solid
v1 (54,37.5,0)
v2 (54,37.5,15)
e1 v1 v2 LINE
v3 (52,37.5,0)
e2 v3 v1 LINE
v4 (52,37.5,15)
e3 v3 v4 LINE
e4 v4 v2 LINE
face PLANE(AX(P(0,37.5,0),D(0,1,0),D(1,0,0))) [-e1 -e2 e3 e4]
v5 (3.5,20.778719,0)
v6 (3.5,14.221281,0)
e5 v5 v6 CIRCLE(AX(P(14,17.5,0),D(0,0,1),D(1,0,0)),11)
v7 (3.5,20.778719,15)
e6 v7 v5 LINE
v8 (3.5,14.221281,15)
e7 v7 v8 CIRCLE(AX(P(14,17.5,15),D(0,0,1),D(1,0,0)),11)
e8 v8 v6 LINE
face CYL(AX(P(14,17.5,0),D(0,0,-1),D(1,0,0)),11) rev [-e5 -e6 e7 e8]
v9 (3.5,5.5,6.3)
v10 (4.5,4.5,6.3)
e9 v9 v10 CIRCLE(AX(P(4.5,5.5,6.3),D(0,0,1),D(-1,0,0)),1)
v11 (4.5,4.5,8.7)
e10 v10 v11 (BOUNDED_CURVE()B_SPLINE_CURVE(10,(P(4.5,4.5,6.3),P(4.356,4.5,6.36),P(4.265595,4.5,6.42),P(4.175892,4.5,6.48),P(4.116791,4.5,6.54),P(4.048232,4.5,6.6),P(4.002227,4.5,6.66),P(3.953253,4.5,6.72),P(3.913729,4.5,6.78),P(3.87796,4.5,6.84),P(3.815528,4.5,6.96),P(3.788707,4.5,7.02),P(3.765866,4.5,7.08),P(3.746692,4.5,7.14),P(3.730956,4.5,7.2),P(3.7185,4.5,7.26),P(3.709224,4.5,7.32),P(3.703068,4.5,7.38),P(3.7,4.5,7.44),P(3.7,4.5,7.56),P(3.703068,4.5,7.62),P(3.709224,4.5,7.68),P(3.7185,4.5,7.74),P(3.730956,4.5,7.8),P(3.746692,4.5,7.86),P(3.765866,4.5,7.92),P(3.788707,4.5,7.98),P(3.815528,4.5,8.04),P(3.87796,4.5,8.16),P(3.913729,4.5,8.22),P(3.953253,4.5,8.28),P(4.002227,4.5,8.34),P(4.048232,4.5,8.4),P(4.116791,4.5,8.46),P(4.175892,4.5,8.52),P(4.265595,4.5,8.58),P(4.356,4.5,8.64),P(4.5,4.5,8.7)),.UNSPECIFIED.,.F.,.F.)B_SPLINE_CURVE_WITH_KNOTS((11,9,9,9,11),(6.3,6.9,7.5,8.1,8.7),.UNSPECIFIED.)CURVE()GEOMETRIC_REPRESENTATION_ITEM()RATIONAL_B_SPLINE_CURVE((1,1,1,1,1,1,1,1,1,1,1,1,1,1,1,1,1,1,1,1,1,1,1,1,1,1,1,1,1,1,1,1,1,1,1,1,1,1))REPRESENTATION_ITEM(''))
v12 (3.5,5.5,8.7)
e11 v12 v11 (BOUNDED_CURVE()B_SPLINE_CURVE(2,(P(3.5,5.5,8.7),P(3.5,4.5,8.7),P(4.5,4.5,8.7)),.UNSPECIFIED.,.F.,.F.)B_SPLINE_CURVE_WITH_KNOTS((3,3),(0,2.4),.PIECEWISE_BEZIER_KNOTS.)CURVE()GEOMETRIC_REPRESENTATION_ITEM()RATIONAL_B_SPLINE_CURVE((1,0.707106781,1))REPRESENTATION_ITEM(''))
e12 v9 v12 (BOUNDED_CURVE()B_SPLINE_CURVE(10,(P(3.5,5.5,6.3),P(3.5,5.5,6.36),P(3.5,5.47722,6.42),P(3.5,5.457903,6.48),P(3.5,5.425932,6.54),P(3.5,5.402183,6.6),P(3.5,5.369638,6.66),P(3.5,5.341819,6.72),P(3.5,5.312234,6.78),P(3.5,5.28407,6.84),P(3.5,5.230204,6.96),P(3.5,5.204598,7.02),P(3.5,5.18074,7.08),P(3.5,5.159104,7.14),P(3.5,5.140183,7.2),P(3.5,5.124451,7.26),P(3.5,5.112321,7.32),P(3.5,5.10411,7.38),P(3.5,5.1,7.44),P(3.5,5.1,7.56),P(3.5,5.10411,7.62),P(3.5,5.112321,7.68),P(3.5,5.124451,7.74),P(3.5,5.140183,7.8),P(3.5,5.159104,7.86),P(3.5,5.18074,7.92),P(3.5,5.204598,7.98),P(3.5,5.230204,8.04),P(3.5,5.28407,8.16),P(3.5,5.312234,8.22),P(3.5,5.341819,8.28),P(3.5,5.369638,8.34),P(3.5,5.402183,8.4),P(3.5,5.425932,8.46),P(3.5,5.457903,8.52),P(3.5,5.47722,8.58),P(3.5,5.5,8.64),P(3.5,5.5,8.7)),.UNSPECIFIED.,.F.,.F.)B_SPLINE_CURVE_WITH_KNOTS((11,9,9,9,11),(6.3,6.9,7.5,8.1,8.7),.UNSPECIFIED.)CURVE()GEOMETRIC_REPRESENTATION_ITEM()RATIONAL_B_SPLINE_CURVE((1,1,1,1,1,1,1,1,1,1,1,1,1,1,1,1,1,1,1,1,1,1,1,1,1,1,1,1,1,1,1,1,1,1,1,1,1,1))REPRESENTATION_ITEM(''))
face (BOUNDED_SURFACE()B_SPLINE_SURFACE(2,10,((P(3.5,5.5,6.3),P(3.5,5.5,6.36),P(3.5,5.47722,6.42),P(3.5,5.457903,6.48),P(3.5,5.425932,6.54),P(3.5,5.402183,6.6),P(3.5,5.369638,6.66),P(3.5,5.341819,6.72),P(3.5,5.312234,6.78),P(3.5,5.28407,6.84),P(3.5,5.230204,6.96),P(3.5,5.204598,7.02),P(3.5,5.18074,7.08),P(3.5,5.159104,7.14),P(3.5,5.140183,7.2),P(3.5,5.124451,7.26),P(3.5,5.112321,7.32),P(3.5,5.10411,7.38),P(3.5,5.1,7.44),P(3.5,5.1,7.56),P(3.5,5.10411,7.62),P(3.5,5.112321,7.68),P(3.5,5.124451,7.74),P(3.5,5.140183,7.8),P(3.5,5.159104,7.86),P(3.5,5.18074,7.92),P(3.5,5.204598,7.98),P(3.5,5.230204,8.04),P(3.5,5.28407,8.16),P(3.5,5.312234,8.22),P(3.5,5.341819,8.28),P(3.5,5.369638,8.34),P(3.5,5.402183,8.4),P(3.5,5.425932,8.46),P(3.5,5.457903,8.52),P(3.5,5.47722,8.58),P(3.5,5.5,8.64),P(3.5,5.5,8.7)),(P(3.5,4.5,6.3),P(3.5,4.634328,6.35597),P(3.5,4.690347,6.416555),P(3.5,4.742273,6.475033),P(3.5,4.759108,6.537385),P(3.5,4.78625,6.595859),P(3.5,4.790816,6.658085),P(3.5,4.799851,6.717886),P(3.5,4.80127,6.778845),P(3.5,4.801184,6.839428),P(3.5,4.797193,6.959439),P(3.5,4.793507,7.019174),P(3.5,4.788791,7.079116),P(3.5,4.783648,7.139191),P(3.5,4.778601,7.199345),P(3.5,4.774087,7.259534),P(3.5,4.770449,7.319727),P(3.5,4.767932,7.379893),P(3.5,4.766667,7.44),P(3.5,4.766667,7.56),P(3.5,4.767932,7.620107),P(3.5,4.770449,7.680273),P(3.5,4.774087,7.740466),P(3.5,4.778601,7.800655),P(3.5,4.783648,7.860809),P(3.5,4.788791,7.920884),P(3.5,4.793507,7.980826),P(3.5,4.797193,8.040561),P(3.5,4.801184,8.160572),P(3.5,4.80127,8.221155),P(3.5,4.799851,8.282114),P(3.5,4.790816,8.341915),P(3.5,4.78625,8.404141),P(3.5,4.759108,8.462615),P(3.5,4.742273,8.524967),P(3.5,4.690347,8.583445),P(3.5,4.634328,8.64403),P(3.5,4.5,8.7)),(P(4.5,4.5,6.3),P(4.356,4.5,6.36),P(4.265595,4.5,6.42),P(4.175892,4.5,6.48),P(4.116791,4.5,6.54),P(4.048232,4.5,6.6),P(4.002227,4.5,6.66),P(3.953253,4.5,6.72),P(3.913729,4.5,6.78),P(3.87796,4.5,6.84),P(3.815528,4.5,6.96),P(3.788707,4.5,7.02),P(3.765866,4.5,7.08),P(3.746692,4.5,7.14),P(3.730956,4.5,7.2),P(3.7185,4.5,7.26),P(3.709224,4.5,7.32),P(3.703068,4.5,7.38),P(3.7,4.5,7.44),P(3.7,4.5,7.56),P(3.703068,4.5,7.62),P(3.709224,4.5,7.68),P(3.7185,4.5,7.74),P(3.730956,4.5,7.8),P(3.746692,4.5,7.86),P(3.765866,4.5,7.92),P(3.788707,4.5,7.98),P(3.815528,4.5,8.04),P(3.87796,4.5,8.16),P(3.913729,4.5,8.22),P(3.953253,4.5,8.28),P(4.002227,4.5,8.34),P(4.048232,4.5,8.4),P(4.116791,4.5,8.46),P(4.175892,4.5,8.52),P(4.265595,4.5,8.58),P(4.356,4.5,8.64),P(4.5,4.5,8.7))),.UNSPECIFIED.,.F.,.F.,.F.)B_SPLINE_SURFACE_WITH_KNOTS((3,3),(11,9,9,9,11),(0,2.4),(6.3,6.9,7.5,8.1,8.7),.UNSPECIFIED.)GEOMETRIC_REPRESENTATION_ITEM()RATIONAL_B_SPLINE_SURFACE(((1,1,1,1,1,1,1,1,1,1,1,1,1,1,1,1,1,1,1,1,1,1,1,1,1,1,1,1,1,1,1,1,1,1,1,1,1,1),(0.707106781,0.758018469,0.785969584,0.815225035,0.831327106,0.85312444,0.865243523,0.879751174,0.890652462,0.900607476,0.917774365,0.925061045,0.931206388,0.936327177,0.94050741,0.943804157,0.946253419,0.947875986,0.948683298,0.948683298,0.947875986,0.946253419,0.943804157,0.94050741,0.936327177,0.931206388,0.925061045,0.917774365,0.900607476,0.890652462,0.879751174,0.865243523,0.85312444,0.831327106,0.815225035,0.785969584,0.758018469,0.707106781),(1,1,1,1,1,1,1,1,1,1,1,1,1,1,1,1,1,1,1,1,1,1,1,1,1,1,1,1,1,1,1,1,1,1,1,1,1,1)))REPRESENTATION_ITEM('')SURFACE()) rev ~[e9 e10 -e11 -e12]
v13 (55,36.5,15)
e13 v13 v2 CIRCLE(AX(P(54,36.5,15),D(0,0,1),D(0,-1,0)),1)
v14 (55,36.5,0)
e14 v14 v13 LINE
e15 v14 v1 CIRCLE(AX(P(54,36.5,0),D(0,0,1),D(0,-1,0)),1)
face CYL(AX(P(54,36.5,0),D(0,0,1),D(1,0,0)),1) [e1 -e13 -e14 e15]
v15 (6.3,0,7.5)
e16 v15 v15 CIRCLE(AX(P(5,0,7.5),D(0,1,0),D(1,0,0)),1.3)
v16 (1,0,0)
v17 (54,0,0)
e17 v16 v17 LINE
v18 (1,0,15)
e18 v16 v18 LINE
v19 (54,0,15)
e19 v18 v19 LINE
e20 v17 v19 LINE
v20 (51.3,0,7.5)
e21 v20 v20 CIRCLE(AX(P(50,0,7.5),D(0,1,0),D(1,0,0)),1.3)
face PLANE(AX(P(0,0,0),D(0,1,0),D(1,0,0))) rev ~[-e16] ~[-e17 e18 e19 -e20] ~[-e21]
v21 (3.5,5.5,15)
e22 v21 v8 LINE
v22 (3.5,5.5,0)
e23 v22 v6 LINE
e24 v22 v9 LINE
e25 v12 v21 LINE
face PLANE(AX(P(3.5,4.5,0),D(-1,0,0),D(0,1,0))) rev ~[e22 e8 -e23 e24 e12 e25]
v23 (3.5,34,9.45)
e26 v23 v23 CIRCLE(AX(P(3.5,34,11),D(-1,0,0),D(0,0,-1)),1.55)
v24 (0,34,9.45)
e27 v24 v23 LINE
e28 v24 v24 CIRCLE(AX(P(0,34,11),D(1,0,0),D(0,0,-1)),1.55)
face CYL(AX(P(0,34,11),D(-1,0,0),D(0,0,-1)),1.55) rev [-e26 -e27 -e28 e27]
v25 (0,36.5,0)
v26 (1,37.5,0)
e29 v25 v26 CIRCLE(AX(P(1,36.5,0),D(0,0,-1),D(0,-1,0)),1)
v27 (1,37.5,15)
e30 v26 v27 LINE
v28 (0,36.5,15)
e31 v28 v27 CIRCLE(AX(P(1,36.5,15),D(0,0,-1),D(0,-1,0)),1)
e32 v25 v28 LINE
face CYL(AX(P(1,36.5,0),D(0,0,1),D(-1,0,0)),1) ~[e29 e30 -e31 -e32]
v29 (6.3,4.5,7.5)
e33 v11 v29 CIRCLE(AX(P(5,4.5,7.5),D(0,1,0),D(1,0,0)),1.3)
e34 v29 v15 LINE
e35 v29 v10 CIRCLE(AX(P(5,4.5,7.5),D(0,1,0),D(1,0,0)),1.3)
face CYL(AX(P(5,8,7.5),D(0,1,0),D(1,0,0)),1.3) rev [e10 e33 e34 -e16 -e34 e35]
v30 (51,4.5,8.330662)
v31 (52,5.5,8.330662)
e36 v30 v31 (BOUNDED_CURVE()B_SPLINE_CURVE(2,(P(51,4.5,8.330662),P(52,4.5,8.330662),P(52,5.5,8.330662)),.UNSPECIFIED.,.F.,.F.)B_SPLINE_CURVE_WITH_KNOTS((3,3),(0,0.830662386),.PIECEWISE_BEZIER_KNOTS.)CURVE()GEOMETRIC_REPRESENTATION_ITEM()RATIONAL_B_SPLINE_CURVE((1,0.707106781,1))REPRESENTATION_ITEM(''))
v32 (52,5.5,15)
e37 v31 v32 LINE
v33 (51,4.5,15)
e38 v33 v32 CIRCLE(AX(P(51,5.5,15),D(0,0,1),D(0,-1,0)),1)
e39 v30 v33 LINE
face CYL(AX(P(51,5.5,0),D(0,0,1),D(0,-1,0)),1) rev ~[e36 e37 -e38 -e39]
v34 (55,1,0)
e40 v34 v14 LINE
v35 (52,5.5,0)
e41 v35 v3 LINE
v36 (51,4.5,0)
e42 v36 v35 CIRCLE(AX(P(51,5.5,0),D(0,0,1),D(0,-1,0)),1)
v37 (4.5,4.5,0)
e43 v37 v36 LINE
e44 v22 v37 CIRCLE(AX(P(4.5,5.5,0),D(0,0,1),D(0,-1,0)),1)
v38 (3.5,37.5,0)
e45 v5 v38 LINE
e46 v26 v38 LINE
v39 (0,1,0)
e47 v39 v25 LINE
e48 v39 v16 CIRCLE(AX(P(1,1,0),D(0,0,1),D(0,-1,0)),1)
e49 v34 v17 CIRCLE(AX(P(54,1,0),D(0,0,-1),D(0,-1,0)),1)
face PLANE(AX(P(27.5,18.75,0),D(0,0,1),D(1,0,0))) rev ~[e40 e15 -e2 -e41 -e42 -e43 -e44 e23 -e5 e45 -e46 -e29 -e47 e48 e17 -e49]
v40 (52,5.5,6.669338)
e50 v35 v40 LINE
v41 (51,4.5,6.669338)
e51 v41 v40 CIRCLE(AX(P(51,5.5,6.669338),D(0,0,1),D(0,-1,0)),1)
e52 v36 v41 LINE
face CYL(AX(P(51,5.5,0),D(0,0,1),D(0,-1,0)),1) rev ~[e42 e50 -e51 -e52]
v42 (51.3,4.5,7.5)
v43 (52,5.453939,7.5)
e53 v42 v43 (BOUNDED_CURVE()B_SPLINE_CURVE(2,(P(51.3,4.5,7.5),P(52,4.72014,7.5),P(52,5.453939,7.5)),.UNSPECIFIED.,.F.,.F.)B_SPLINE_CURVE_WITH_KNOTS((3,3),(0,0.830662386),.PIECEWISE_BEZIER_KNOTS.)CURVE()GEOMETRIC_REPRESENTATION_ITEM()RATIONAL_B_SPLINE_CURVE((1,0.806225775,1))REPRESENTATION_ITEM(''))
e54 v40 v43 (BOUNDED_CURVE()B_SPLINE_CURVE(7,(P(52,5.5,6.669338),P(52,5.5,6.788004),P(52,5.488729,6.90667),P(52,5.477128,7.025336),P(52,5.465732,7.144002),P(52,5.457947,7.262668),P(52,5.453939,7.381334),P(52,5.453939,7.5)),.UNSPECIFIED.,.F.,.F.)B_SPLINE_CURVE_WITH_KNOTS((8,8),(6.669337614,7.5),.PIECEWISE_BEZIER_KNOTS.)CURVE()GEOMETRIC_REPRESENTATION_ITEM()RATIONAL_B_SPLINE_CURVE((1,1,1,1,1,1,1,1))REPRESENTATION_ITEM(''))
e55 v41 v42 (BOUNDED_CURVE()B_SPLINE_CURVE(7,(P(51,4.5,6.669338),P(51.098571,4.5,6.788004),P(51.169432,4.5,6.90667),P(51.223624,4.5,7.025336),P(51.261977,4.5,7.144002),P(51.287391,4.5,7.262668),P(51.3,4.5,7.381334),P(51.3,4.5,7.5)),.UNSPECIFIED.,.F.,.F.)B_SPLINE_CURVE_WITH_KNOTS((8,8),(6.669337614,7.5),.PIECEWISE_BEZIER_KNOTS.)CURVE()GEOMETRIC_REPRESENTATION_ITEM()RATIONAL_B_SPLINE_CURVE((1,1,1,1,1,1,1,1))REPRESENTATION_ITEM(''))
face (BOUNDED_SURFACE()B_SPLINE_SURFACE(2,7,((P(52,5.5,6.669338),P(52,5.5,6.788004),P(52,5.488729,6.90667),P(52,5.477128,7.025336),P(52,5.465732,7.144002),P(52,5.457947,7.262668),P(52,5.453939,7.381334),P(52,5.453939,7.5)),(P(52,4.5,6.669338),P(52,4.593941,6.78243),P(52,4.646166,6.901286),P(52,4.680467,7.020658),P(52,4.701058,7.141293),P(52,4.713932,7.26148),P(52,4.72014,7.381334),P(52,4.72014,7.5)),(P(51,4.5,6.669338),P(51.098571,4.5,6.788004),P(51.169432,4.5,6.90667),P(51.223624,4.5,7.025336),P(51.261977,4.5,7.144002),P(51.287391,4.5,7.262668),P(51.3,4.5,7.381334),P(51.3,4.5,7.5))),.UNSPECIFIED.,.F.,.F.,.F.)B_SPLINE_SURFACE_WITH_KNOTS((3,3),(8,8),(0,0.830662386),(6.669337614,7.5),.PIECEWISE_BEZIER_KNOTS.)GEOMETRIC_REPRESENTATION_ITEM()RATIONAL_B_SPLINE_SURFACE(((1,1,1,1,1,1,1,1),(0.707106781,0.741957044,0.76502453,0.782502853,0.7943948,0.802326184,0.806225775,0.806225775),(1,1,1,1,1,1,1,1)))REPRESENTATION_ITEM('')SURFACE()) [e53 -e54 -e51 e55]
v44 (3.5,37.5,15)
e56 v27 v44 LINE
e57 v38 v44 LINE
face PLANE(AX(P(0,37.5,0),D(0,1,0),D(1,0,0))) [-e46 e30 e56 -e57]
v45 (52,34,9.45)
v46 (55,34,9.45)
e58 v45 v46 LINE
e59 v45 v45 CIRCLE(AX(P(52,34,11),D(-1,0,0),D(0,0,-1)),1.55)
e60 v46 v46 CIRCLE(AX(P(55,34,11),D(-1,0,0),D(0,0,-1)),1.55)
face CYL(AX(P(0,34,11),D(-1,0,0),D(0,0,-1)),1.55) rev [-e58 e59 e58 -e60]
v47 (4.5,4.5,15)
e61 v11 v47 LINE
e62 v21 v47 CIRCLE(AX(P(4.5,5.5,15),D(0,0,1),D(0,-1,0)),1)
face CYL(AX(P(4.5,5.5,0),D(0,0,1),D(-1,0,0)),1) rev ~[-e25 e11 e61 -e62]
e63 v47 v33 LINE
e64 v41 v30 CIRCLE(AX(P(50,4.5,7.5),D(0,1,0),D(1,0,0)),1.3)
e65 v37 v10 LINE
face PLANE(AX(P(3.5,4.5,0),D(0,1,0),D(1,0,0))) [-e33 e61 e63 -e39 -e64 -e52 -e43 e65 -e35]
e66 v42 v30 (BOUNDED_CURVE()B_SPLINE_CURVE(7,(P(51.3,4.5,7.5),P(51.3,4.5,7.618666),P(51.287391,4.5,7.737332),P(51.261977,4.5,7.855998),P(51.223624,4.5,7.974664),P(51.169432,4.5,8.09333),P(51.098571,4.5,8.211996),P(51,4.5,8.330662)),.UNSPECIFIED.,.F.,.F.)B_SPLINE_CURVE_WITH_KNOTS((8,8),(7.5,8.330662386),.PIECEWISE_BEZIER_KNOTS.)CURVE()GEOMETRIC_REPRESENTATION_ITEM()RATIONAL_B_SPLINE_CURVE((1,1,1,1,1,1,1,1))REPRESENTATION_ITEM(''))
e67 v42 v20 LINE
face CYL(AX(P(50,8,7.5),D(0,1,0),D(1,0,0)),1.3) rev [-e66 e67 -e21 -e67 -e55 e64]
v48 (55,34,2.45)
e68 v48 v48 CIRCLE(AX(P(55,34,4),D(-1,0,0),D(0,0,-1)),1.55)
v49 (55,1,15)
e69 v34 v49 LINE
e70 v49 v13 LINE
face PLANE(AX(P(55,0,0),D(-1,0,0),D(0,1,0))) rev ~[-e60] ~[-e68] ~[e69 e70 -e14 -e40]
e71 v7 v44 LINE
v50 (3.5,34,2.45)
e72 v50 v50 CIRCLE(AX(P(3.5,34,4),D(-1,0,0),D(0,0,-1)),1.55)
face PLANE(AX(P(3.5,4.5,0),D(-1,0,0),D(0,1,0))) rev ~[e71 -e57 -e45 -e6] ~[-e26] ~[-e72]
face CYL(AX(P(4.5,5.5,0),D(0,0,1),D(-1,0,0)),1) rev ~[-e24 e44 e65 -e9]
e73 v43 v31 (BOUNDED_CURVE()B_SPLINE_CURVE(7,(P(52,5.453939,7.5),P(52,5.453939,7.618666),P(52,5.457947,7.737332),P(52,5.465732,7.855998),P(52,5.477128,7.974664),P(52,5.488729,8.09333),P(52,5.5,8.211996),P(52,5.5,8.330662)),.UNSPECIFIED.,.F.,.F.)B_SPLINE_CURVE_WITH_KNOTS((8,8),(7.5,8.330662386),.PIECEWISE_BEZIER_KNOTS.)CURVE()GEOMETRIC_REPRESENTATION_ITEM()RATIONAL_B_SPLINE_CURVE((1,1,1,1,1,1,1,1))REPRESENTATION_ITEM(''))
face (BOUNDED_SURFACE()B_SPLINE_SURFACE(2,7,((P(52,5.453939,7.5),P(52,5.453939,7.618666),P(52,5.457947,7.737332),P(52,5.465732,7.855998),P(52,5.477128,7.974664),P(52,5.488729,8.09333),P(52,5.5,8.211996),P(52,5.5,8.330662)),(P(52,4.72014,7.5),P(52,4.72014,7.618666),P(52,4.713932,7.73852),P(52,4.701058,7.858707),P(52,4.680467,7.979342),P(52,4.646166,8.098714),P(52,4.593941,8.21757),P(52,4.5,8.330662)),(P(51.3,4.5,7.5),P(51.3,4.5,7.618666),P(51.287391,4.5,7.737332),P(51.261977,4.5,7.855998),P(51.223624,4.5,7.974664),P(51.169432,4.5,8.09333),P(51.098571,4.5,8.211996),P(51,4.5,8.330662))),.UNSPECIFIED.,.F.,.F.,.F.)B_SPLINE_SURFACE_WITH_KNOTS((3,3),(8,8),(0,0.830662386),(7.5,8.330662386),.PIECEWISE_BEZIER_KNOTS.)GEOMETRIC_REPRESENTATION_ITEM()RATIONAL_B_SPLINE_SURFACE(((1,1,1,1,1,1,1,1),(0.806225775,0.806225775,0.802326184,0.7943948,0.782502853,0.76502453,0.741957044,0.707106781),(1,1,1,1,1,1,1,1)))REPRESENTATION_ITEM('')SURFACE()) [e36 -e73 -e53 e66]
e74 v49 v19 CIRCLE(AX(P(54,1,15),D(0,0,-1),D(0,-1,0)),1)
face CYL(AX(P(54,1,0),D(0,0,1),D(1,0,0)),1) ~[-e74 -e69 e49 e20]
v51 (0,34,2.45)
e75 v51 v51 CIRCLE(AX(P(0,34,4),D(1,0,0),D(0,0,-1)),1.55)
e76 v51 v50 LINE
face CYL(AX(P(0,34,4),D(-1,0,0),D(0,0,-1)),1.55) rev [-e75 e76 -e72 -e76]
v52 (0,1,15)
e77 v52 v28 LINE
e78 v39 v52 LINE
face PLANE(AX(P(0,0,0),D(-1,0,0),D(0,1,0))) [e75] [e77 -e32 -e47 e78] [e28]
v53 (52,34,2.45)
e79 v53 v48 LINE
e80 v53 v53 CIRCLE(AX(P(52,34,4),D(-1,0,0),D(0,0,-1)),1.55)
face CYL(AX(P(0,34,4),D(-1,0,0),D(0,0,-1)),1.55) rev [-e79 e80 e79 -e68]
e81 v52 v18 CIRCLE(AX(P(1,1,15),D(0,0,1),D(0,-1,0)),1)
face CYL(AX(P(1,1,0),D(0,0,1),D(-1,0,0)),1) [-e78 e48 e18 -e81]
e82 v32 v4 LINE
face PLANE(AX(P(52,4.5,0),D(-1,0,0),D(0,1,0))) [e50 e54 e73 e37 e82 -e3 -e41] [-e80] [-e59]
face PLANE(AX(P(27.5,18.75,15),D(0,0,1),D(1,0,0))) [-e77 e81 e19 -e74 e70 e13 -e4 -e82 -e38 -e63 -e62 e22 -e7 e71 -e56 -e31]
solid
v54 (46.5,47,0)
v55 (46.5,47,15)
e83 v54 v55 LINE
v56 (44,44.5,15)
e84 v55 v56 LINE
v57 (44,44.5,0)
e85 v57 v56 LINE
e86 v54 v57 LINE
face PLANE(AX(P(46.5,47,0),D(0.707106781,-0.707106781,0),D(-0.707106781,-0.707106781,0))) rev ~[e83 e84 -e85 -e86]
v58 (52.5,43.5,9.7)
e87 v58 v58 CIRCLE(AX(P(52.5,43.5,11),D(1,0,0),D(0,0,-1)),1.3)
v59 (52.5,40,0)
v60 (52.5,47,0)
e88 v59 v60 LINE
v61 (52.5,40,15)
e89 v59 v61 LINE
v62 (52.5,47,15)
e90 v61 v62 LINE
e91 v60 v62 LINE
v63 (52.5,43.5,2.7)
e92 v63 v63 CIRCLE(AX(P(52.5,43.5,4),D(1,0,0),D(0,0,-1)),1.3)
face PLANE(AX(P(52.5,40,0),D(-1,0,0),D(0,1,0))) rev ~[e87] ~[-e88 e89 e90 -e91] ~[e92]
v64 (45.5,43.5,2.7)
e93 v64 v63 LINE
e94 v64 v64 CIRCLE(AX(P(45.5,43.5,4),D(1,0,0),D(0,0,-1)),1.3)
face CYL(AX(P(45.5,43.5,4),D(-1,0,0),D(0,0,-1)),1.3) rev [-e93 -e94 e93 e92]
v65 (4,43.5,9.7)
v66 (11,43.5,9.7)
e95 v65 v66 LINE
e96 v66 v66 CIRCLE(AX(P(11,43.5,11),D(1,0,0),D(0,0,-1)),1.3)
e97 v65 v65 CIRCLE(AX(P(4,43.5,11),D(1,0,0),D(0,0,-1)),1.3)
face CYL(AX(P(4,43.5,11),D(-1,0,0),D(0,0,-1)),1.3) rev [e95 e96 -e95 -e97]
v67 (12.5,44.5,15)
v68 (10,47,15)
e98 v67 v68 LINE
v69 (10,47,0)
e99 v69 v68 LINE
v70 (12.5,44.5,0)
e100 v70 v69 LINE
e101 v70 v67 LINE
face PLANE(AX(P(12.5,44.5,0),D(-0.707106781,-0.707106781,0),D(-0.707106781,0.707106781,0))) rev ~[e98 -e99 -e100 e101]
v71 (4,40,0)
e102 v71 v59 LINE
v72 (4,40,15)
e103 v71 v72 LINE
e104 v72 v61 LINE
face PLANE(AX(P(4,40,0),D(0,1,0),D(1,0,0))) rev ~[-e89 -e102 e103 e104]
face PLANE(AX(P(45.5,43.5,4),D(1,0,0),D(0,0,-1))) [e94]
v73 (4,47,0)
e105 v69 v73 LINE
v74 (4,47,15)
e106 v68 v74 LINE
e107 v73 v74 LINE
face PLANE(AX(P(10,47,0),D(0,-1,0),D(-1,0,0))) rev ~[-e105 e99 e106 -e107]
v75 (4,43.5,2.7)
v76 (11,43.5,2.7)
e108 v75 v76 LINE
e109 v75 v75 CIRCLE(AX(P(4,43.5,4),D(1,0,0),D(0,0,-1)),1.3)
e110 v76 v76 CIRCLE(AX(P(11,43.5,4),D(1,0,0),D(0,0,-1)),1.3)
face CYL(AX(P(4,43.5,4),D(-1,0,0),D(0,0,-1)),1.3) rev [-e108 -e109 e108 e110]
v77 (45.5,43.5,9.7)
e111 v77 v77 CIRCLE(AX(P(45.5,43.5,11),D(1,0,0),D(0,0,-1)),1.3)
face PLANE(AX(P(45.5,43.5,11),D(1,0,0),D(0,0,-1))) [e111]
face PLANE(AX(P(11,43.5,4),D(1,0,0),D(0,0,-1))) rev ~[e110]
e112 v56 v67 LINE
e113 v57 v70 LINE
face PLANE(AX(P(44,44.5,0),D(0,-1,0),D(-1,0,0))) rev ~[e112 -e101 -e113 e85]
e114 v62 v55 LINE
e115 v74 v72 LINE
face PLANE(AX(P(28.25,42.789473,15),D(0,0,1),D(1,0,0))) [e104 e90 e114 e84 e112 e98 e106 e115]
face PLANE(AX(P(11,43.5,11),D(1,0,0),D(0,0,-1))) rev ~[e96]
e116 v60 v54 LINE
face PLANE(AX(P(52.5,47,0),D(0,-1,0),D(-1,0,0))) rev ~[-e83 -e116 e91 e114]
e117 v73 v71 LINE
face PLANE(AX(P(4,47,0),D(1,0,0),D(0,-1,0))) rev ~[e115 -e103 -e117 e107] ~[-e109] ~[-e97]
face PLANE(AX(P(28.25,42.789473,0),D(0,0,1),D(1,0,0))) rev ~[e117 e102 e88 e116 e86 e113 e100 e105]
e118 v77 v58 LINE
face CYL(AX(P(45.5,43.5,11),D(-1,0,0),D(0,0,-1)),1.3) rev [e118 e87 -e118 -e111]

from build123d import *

# Parameters (mm, degrees)
CYLINDER004_R           = 1.55
CYLINDER004_DEPTH       = 60
CYLINDER004_PITCH_ANGLE = 90
CYLINDER003_R           = 1.55
CYLINDER003_DEPTH       = 60
CYLINDER003_PITCH_ANGLE = 90
CYLINDER002_R           = 1.3
CYLINDER002_DEPTH       = 10
CYLINDER002_ROLL_ANGLE  = 90
CYLINDER001_R           = 1.3
CYLINDER001_DEPTH       = 10
CYLINDER001_ROLL_ANGLE  = 90
CYLINDER_R              = 11
CYLINDER_DEPTH          = 15
BOX001_W                = 48.5
BOX001_H                = 33
BOX001_DEPTH            = 15
BOX_W                   = 55
BOX_H                   = 37.5
BOX_DEPTH               = 15
FILLET_R                = 1
FILLET001_R             = 1
FILLET002_R             = 1
FILLET003_R             = 1
FILLET004_R             = 1
FILLET005_R             = 1
CYLINDER008_R           = 1.3
CYLINDER008_DEPTH       = 7
CYLINDER008_PITCH_ANGLE = 90
CYLINDER007_R           = 1.3
CYLINDER007_DEPTH       = 7
CYLINDER007_PITCH_ANGLE = 90
CYLINDER006_R           = 1.3
CYLINDER006_DEPTH       = 7
CYLINDER006_PITCH_ANGLE = 90
CYLINDER005_R           = 1.3
CYLINDER005_DEPTH       = 7
CYLINDER005_PITCH_ANGLE = 90
PAD_DEPTH               = 15


with BuildPart() as cylinder004:
    # Cylinder004 → Cylinder004 (new body)
    with BuildSketch(Plane.XY):
        Circle(CYLINDER004_R)
    extrude(amount=CYLINDER004_DEPTH)


with BuildPart() as cylinder004_1:
    # Cylinder004 pitch: moved
    add(cylinder004.part.rotate(Axis((0, 0, 0), (0, 1, 0)), CYLINDER004_PITCH_ANGLE))


with BuildPart() as cylinder004_2:
    # Cylinder004 placement: moved
    add(cylinder004_1.part.moved(Location((0, 34, 11))))


with BuildPart() as cylinder003:
    # Cylinder003 → Cylinder003 (new body)
    with BuildSketch(Plane.XY):
        Circle(CYLINDER003_R)
    extrude(amount=CYLINDER003_DEPTH)


with BuildPart() as cylinder003_1:
    # Cylinder003 pitch: moved
    add(cylinder003.part.rotate(Axis((0, 0, 0), (0, 1, 0)), CYLINDER003_PITCH_ANGLE))


with BuildPart() as cylinder003_2:
    # Cylinder003 placement: moved
    add(cylinder003_1.part.moved(Location((0, 34, 4))))


with BuildPart() as cylinder002:
    # Cylinder002 → Cylinder002 (new body)
    with BuildSketch(Plane.XY):
        Circle(CYLINDER002_R)
    extrude(amount=CYLINDER002_DEPTH)


with BuildPart() as cylinder002_1:
    # Cylinder002 roll: moved
    add(cylinder002.part.rotate(Axis((0, 0, 0), (1, 0, 0)), CYLINDER002_ROLL_ANGLE))


with BuildPart() as cylinder002_2:
    # Cylinder002 placement: moved
    add(cylinder002_1.part.moved(Location((50, 8, 7.5))))


with BuildPart() as cylinder001:
    # Cylinder001 → Cylinder001 (new body)
    with BuildSketch(Plane.XY):
        Circle(CYLINDER001_R)
    extrude(amount=CYLINDER001_DEPTH)


with BuildPart() as cylinder001_1:
    # Cylinder001 roll: moved
    add(cylinder001.part.rotate(Axis((0, 0, 0), (1, 0, 0)), CYLINDER001_ROLL_ANGLE))


with BuildPart() as cylinder001_2:
    # Cylinder001 placement: moved
    add(cylinder001_1.part.moved(Location((5, 8, 7.5))))


with BuildPart() as cylinder:
    # Cylinder → Cylinder (new body)
    with BuildSketch(Plane(origin=(14, 17.5, 0), x_dir=(1, 0, 0), z_dir=(0, 0, 1))):
        Circle(CYLINDER_R)
    extrude(amount=CYLINDER_DEPTH)


with BuildPart() as cube001:
    # Box001 → Box001 (new body)
    with BuildSketch(Plane(origin=(3.5, 4.5, 0), x_dir=(1, 0, 0), z_dir=(0, 0, 1))):
        with Locations((24.25, 16.5)):
            Rectangle(BOX001_W, BOX001_H)
    extrude(amount=BOX001_DEPTH)


with BuildPart() as fillet005:
    # Box → Box (new body)
    with BuildSketch(Plane.XY):
        with Locations((27.5, 18.75)):
            Rectangle(BOX_W, BOX_H)
    extrude(amount=BOX_DEPTH)

    # Cut: cut Cube001
    add(cube001.part, mode=Mode.SUBTRACT)

    # Cut001: cut Cylinder
    add(cylinder.part, mode=Mode.SUBTRACT)

    # Cut002: cut Cylinder001
    add(cylinder001_2.part, mode=Mode.SUBTRACT)

    # Cut003: cut Cylinder002
    add(cylinder002_2.part, mode=Mode.SUBTRACT)

    # Cut004: cut Cylinder003
    add(cylinder003_2.part, mode=Mode.SUBTRACT)

    # Cut005: cut Cylinder004
    add(cylinder004_2.part, mode=Mode.SUBTRACT)

    # Fillet
    fillet_edges = [fillet005.edges().sort_by_distance(p)[0] for p in [
        (0, 37.5, 7.5),
    ]]
    fillet(fillet_edges, radius=FILLET_R)

    # Fillet001
    fillet001_edges = [fillet005.edges().sort_by_distance(p)[0] for p in [
        (0, 0, 7.5),
    ]]
    fillet(fillet001_edges, radius=FILLET001_R)

    # Fillet002
    fillet002_edges = [fillet005.edges().sort_by_distance(p)[0] for p in [
        (3.5, 4.5, 7.5),
    ]]
    fillet(fillet002_edges, radius=FILLET002_R)

    # Fillet003
    fillet003_edges = [fillet005.edges().sort_by_distance(p)[0] for p in [
        (52, 4.5, 7.5),
    ]]
    fillet(fillet003_edges, radius=FILLET003_R)

    # Fillet004
    fillet004_edges = [fillet005.edges().sort_by_distance(p)[0] for p in [
        (55, 0, 7.5),
    ]]
    fillet(fillet004_edges, radius=FILLET004_R)

    # Fillet005
    fillet005_edges = [fillet005.edges().sort_by_distance(p)[0] for p in [
        (55, 37.5, 7.5),
    ]]
    fillet(fillet005_edges, radius=FILLET005_R)


with BuildPart() as cylinder008:
    # Cylinder008 → Cylinder008 (new body)
    with BuildSketch(Plane.XY):
        Circle(CYLINDER008_R)
    extrude(amount=CYLINDER008_DEPTH)


with BuildPart() as cylinder008_1:
    # Cylinder008 pitch: moved
    add(cylinder008.part.rotate(Axis((0, 0, 0), (0, 1, 0)), CYLINDER008_PITCH_ANGLE))


with BuildPart() as cylinder008_2:
    # Cylinder008 placement: moved
    add(cylinder008_1.part.moved(Location((45.5, 43.5, 11))))


with BuildPart() as cylinder007:
    # Cylinder007 → Cylinder007 (new body)
    with BuildSketch(Plane.XY):
        Circle(CYLINDER007_R)
    extrude(amount=CYLINDER007_DEPTH)


with BuildPart() as cylinder007_1:
    # Cylinder007 pitch: moved
    add(cylinder007.part.rotate(Axis((0, 0, 0), (0, 1, 0)), CYLINDER007_PITCH_ANGLE))


with BuildPart() as cylinder007_2:
    # Cylinder007 placement: moved
    add(cylinder007_1.part.moved(Location((45.5, 43.5, 4))))


with BuildPart() as cylinder006:
    # Cylinder006 → Cylinder006 (new body)
    with BuildSketch(Plane.XY):
        Circle(CYLINDER006_R)
    extrude(amount=CYLINDER006_DEPTH)


with BuildPart() as cylinder006_1:
    # Cylinder006 pitch: moved
    add(cylinder006.part.rotate(Axis((0, 0, 0), (0, 1, 0)), CYLINDER006_PITCH_ANGLE))


with BuildPart() as cylinder006_2:
    # Cylinder006 placement: moved
    add(cylinder006_1.part.moved(Location((4, 43.5, 11))))


with BuildPart() as cylinder005:
    # Cylinder005 → Cylinder005 (new body)
    with BuildSketch(Plane.XY):
        Circle(CYLINDER005_R)
    extrude(amount=CYLINDER005_DEPTH)


with BuildPart() as cylinder005_1:
    # Cylinder005 pitch: moved
    add(cylinder005.part.rotate(Axis((0, 0, 0), (0, 1, 0)), CYLINDER005_PITCH_ANGLE))


with BuildPart() as cylinder005_2:
    # Cylinder005 placement: moved
    add(cylinder005_1.part.moved(Location((4, 43.5, 4))))


with BuildPart() as cut009:
    # Sketch → Pad (new body)
    with BuildSketch(Plane.XY):
        Polygon((4, 40), (52.5, 40), (52.5, 47), (46.5, 47), (44, 44.5), (12.5, 44.5), (10, 47), (4, 47), align=None)
    extrude(amount=PAD_DEPTH)

    # Cut006: cut Cylinder005
    add(cylinder005_2.part, mode=Mode.SUBTRACT)

    # Cut007: cut Cylinder006
    add(cylinder006_2.part, mode=Mode.SUBTRACT)

    # Cut008: cut Cylinder007
    add(cylinder007_2.part, mode=Mode.SUBTRACT)

    # Cut009: cut Cylinder008
    add(cylinder008_2.part, mode=Mode.SUBTRACT)


solid = Compound([fillet005.part, cut009.part])
